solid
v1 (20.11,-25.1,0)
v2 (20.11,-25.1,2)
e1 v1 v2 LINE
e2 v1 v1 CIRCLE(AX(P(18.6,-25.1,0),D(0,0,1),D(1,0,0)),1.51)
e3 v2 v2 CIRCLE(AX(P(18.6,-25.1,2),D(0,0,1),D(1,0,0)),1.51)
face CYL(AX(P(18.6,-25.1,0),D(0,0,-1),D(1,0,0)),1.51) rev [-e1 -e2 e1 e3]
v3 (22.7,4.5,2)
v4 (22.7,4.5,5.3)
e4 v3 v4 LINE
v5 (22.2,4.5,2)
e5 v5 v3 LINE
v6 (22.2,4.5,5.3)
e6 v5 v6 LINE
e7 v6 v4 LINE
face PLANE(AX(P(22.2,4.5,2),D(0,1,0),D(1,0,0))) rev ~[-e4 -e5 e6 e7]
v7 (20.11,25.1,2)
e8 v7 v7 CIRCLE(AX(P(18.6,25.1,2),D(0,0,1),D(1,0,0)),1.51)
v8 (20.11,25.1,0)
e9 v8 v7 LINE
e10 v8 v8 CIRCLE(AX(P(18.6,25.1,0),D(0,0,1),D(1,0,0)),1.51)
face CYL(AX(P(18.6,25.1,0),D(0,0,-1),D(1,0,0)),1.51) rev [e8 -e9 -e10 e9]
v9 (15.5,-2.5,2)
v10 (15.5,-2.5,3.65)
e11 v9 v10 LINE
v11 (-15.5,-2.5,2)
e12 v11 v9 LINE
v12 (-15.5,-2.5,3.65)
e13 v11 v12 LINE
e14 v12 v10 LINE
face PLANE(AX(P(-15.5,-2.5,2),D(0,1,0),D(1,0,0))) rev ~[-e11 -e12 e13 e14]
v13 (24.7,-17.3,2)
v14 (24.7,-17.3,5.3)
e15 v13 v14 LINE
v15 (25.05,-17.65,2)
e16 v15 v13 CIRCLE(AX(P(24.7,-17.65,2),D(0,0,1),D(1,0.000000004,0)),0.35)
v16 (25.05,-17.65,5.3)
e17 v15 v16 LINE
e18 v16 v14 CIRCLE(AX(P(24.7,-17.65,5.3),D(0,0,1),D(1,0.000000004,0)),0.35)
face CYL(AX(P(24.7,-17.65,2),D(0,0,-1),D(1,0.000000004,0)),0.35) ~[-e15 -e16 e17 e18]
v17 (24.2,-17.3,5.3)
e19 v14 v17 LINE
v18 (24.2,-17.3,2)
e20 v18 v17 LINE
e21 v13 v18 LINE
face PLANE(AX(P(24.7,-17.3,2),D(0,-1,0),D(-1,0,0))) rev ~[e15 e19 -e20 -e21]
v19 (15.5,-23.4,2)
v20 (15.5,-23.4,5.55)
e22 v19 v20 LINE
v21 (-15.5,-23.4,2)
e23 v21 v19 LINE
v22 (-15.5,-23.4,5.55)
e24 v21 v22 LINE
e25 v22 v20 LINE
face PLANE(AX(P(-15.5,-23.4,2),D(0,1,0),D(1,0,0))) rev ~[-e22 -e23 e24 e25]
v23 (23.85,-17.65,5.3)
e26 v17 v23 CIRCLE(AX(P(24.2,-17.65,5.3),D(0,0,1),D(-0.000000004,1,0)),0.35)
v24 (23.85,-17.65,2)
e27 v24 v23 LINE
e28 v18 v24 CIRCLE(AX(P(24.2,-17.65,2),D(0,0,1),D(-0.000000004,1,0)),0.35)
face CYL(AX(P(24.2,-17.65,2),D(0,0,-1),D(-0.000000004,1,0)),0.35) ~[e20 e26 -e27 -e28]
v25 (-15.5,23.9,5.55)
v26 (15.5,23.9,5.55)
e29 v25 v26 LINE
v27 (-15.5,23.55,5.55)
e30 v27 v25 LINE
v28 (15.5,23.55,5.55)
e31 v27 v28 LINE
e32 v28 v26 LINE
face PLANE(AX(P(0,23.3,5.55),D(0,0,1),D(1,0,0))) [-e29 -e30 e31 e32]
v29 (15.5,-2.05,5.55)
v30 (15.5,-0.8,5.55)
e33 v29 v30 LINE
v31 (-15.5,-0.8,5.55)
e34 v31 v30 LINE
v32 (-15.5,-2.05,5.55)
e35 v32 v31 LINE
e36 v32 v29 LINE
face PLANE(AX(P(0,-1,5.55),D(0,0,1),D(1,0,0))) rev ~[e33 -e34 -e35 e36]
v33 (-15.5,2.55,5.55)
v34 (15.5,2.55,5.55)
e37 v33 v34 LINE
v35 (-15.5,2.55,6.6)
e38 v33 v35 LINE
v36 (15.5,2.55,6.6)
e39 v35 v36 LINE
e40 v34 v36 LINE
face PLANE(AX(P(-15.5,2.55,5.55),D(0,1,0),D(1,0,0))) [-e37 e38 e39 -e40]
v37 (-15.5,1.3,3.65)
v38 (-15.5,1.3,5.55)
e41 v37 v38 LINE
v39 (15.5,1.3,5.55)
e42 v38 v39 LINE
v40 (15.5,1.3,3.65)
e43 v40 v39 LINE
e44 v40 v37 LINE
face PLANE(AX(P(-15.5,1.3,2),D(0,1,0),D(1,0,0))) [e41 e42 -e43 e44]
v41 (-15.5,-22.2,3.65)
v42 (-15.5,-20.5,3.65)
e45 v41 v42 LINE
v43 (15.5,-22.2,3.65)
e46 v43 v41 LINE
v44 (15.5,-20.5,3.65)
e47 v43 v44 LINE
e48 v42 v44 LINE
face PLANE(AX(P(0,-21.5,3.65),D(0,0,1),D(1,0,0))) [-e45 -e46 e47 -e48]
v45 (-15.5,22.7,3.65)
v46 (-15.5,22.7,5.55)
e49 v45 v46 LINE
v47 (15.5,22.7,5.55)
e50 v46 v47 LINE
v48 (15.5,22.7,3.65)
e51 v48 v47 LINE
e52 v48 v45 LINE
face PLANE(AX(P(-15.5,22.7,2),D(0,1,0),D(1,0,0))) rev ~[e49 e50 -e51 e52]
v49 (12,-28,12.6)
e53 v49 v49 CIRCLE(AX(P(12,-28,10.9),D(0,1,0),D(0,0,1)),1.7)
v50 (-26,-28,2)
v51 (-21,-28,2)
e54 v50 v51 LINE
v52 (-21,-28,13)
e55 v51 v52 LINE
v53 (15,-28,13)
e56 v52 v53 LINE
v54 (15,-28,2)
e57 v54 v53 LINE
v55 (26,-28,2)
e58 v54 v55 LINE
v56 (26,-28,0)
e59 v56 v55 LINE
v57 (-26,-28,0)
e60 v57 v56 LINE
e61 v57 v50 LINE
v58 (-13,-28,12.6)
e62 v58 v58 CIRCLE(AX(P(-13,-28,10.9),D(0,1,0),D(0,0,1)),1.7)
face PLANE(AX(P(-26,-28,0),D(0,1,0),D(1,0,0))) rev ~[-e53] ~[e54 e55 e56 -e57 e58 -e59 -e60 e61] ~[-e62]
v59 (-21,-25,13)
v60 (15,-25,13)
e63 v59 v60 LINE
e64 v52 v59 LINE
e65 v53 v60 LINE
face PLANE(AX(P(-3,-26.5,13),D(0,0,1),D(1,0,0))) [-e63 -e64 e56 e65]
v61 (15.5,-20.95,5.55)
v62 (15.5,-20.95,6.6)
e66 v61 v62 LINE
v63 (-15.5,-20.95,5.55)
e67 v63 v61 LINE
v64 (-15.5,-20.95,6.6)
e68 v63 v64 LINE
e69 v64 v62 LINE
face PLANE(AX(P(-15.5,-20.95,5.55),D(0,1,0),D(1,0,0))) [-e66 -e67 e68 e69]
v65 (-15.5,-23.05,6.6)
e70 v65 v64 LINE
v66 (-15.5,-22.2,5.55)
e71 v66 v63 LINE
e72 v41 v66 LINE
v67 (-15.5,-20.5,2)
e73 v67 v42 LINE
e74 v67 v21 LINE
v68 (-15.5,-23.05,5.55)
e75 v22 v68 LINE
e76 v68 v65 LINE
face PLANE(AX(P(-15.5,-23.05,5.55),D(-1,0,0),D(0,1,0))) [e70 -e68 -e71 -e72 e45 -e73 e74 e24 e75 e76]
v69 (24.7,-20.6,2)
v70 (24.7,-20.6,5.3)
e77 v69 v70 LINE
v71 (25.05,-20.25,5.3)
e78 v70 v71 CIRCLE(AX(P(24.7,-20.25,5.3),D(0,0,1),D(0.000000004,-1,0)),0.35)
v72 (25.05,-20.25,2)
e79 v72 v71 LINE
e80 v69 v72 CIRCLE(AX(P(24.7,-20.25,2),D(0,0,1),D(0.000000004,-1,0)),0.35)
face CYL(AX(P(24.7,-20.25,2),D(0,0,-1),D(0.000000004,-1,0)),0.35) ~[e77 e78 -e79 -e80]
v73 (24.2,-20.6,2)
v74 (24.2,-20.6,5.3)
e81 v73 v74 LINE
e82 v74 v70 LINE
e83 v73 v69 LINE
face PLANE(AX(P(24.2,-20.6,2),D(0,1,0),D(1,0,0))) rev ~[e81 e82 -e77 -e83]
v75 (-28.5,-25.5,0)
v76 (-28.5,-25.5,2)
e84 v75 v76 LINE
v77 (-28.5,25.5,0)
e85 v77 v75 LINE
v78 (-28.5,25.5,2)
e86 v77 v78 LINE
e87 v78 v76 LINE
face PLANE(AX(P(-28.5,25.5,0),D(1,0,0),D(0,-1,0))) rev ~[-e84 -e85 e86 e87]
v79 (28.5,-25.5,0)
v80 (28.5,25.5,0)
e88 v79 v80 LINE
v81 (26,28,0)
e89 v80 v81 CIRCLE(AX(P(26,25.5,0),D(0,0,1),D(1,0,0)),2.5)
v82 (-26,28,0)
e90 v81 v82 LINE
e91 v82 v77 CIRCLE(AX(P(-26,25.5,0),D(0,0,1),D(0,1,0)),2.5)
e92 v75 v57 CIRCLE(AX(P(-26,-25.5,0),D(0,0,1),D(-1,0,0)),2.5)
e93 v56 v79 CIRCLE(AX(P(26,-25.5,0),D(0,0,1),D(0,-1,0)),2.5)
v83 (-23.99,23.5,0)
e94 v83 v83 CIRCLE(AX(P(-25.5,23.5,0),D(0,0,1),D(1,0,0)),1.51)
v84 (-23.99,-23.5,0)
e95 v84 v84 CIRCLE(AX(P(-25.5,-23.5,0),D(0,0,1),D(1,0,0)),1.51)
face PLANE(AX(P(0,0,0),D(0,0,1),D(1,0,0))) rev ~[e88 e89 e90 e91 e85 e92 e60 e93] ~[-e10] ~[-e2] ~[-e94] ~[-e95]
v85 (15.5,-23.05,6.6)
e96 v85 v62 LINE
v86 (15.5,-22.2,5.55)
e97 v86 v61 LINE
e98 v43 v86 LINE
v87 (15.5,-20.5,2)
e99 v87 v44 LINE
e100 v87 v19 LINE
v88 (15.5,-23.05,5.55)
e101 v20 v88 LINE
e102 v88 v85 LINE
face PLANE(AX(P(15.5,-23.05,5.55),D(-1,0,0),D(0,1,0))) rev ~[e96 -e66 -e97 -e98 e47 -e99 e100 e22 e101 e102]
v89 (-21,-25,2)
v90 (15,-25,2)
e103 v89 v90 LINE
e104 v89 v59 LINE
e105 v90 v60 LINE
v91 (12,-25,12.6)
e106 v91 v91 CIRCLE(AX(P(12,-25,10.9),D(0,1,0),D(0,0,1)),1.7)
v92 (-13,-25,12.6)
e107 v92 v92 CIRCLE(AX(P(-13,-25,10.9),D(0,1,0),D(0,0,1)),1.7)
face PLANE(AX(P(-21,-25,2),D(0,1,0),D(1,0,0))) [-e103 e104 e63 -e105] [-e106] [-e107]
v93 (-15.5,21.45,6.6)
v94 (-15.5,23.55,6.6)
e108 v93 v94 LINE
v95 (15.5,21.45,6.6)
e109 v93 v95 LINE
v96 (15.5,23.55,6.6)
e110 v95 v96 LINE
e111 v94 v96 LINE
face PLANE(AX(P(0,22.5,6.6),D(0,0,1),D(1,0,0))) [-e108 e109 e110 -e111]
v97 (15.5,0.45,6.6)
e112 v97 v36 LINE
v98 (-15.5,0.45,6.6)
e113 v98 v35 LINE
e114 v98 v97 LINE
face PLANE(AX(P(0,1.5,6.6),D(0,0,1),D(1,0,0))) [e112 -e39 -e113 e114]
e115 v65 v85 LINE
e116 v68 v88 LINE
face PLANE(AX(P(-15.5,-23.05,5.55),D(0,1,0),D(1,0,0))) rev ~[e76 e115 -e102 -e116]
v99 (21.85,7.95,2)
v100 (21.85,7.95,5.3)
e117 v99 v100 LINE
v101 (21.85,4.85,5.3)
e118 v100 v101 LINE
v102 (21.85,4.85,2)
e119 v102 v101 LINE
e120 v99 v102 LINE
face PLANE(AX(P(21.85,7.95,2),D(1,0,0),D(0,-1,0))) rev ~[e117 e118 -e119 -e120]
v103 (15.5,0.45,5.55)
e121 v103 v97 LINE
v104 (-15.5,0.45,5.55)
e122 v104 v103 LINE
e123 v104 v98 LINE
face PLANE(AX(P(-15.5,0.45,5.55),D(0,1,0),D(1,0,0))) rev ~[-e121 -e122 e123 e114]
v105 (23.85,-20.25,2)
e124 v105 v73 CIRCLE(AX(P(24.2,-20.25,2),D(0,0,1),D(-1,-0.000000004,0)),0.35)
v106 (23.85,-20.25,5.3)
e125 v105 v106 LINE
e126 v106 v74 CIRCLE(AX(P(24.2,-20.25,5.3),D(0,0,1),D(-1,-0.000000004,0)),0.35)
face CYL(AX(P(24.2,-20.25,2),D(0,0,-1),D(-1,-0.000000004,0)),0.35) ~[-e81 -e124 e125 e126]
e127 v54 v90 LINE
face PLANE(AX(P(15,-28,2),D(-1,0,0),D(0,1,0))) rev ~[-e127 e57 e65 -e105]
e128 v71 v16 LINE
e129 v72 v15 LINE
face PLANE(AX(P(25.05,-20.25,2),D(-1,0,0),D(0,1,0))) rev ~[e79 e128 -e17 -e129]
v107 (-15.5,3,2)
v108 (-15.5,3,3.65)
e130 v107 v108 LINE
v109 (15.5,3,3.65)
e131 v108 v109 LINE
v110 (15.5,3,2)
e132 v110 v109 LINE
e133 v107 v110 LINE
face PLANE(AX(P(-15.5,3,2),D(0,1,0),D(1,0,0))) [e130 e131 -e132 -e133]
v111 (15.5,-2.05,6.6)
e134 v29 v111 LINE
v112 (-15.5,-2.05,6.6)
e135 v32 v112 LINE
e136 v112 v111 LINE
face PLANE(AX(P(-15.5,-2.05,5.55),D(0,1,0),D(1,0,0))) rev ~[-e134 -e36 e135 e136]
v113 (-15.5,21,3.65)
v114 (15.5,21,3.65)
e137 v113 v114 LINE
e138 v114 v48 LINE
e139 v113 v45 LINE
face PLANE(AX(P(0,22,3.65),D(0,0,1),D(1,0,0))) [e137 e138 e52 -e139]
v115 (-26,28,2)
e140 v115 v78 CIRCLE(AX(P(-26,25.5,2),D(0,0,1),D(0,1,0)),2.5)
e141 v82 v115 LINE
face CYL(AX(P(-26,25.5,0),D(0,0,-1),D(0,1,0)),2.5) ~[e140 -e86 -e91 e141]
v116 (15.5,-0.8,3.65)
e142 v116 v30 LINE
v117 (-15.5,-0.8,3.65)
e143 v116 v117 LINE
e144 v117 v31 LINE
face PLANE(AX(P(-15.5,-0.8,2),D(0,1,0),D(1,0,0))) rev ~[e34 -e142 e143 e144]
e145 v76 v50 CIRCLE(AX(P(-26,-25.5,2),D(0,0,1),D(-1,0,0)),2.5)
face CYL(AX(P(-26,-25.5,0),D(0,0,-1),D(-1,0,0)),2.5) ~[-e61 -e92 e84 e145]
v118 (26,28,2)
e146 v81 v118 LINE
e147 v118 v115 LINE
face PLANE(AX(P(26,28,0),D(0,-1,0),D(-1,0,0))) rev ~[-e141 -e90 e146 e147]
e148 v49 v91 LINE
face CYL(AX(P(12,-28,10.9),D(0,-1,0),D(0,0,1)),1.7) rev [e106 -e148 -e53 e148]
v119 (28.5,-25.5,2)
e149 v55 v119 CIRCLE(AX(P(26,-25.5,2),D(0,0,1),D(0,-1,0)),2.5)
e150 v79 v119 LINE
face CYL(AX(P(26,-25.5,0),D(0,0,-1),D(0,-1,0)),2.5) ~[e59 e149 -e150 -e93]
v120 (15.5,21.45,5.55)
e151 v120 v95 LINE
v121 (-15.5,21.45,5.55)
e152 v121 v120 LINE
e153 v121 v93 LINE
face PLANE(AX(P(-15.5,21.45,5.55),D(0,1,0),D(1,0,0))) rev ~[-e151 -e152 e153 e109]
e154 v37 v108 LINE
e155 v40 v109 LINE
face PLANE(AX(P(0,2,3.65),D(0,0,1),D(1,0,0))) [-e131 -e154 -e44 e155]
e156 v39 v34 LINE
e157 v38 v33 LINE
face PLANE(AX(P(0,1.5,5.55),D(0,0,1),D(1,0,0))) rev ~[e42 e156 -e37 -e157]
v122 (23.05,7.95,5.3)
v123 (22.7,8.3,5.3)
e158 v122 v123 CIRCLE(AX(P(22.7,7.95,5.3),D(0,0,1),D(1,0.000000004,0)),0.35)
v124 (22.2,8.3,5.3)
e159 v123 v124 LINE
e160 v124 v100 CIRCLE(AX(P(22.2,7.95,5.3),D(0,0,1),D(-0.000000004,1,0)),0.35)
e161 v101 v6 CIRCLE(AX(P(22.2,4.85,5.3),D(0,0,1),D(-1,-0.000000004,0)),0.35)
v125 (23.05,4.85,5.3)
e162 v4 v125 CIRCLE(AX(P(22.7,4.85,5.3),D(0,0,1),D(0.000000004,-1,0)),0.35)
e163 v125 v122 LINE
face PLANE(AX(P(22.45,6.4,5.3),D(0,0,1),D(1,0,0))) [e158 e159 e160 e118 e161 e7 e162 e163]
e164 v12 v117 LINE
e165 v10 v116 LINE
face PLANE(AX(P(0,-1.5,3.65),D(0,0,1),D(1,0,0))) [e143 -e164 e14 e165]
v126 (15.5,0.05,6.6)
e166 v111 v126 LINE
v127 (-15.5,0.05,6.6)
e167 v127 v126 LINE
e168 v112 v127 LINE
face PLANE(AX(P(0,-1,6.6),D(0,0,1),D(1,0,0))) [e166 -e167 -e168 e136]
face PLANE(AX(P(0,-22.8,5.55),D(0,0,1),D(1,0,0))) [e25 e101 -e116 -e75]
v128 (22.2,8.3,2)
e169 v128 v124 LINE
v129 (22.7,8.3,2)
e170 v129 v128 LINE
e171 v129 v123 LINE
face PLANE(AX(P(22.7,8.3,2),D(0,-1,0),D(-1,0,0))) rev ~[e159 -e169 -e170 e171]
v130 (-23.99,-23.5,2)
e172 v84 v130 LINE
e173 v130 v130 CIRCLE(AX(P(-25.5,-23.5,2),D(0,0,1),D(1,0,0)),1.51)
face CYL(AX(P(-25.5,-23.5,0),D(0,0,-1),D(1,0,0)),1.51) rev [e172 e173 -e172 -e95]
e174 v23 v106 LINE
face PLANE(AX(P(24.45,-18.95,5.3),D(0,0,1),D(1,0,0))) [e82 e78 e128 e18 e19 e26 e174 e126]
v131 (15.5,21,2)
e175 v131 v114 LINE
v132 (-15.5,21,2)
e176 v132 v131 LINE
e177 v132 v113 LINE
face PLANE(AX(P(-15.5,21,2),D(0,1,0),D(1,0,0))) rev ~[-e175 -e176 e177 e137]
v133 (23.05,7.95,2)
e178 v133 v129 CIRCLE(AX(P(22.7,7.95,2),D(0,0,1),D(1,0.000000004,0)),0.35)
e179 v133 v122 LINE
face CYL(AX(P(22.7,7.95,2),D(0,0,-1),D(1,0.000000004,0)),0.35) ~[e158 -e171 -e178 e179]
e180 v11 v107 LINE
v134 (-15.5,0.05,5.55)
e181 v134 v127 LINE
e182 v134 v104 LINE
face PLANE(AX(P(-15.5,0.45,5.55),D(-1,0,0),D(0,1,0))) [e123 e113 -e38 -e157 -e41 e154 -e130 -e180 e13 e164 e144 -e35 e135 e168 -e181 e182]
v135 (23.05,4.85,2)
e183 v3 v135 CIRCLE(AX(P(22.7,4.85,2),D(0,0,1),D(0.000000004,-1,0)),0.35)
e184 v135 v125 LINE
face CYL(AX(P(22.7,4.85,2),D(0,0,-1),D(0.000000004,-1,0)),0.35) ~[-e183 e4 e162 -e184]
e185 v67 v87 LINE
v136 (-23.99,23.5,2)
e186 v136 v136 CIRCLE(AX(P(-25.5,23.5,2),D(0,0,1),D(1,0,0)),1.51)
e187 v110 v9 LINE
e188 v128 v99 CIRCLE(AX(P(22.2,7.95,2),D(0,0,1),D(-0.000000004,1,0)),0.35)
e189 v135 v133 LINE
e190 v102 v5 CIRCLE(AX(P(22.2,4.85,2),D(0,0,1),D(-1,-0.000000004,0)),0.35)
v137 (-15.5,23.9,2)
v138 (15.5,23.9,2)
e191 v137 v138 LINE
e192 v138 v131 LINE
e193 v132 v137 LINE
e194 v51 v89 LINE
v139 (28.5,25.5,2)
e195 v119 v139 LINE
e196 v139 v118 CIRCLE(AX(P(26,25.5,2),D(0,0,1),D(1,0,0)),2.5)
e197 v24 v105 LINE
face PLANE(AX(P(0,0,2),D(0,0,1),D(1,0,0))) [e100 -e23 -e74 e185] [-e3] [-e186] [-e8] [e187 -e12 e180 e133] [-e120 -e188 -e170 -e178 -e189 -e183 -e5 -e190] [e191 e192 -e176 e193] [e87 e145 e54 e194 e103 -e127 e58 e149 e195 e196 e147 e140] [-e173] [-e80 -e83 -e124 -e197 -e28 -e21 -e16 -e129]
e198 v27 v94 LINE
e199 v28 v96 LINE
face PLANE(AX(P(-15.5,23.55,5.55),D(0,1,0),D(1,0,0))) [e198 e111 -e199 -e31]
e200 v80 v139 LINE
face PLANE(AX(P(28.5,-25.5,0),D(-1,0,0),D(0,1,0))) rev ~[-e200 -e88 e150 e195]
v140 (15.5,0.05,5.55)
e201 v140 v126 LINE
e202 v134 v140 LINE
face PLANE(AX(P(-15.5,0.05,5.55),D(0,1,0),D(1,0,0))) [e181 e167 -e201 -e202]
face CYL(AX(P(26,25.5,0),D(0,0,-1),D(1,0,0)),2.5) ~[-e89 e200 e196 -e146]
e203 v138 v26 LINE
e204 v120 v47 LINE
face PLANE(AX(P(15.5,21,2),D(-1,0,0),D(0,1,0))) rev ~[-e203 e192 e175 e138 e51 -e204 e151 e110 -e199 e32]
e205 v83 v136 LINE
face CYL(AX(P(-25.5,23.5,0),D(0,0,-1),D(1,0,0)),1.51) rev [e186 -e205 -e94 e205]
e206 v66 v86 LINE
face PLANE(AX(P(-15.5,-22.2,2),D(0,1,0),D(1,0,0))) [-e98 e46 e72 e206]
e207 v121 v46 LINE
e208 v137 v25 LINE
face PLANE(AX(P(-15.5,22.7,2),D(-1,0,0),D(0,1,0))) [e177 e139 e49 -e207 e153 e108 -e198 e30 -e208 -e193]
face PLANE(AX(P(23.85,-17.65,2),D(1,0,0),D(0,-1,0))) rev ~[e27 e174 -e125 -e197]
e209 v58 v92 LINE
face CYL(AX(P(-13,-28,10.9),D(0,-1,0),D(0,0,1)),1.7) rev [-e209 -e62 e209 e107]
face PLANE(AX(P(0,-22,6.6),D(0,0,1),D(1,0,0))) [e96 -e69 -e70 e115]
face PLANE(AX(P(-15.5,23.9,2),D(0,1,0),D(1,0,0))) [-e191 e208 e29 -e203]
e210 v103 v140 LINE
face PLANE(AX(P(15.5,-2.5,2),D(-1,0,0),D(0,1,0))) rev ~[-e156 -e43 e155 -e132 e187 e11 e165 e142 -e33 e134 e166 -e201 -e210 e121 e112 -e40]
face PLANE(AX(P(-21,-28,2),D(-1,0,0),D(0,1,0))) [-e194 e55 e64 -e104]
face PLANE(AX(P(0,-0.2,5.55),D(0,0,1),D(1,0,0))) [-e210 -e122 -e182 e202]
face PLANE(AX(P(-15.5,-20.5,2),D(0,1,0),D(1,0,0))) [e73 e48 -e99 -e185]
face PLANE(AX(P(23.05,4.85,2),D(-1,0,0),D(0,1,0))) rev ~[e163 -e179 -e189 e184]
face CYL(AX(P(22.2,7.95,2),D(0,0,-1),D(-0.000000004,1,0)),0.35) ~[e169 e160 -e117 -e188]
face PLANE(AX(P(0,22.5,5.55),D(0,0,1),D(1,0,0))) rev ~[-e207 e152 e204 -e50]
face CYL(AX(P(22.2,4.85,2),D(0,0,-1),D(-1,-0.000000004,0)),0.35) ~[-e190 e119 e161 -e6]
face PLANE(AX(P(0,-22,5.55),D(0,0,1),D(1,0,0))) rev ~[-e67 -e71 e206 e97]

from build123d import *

# Parameters (mm, degrees)
VERTICAL_CARRIER_2MM_SKETCH_R  = 1.51
VERTICAL_CARRIER_2MM_DEPTH     = 2
INTEGRAL_FOOT_3MM_START        = 2
INTEGRAL_FOOT_3MM_SKETCH_W     = 36
INTEGRAL_FOOT_3MM_SKETCH_H     = 3
INTEGRAL_FOOT_3MM_DEPTH        = 11
FOOT_2X_D3P4_ISO273_START      = -28
FOOT_2X_D3P4_ISO273_SKETCH_R   = 1.7
FOOT_2X_D3P4_ISO273_DEPTH      = 3
BUCK_UNDERSIDE_RAILS_START     = 2
BUCK_UNDERSIDE_RAILS_SKETCH_W  = 31
BUCK_UNDERSIDE_RAILS_SKETCH_H  = 2
BUCK_UNDERSIDE_RAILS_DEPTH     = 1.65
BUCK_EDGE_GUIDES_START         = 2
BUCK_EDGE_GUIDES_SKETCH_W      = 31
BUCK_EDGE_GUIDES_SKETCH_H      = 1.2
BUCK_EDGE_GUIDES_DEPTH         = 3.55
BUCK_SLIDE_IN_LIPS_START       = 5.55
BUCK_SLIDE_IN_LIPS_SKETCH_W    = 31
BUCK_SLIDE_IN_LIPS_SKETCH_H    = 2.1
BUCK_SLIDE_IN_LIPS_DEPTH       = 1.05
RS485_UNDERSIDE_RAILS_START    = 2
RS485_UNDERSIDE_RAILS_SKETCH_W = 31
RS485_UNDERSIDE_RAILS_SKETCH_H = 2
RS485_UNDERSIDE_RAILS_DEPTH    = 1.65
RS485_EDGE_GUIDES_START        = 2
RS485_EDGE_GUIDES_SKETCH_W     = 31
RS485_EDGE_GUIDES_SKETCH_H     = 1.2
RS485_EDGE_GUIDES_DEPTH        = 3.55
RS485_SLIDE_IN_LIPS_START      = 5.55
RS485_SLIDE_IN_LIPS_SKETCH_W   = 31
RS485_SLIDE_IN_LIPS_SKETCH_H   = 2.1
RS485_SLIDE_IN_LIPS_DEPTH      = 1.05
PCB_INSERTION_STOPS_START      = 2
PCB_INSERTION_STOPS_DEPTH      = 3.3


with BuildPart() as part:
    # Vertical_carrier_2mm_Sketch → Vertical_carrier_2mm (new body)
    with BuildSketch(Plane.XY):
        with BuildLine():
            Line((-26, -28), (26, -28))
            ThreePointArc((26, -28), (27.767766953, -27.267766953), (28.5, -25.5))
            Line((28.5, -25.5), (28.5, 25.5))
            ThreePointArc((28.5, 25.5), (27.767766953, 27.267766953), (26, 28))
            Line((26, 28), (-26, 28))
            ThreePointArc((-26, 28), (-27.767766953, 27.267766953), (-28.5, 25.5))
            Line((-28.5, 25.5), (-28.5, -25.5))
            ThreePointArc((-28.5, -25.5), (-27.767766953, -27.267766953), (-26, -28))
        make_face()
        with Locations((-25.5, -23.5)):
            Circle(VERTICAL_CARRIER_2MM_SKETCH_R, mode=Mode.SUBTRACT)
        with Locations((18.6, -25.1)):
            Circle(VERTICAL_CARRIER_2MM_SKETCH_R, mode=Mode.SUBTRACT)
        with Locations((-25.5, 23.5)):
            Circle(VERTICAL_CARRIER_2MM_SKETCH_R, mode=Mode.SUBTRACT)
        with Locations((18.6, 25.1)):
            Circle(VERTICAL_CARRIER_2MM_SKETCH_R, mode=Mode.SUBTRACT)
    extrude(amount=VERTICAL_CARRIER_2MM_DEPTH)

    # Integral_foot_3mm_Sketch → Integral_foot_3mm (add)
    with BuildSketch(Plane.XY.offset(INTEGRAL_FOOT_3MM_START)):
        with Locations((-3, -26.5)):
            Rectangle(INTEGRAL_FOOT_3MM_SKETCH_W, INTEGRAL_FOOT_3MM_SKETCH_H)
    extrude(amount=INTEGRAL_FOOT_3MM_DEPTH)

    # Foot_2x_D3p4_ISO273_Sketch → Foot_2x_D3p4_ISO273 (cut)
    with BuildSketch(Plane(origin=(0, 0, 0), x_dir=(1, 0, 0), z_dir=(0, 1, 0)).offset(FOOT_2X_D3P4_ISO273_START)):
        with Locations(Location((-13, -10.9, 0), (0, 0, 270))):
            Circle(FOOT_2X_D3P4_ISO273_SKETCH_R)
        with Locations(Location((12, -10.9, 0), (0, 0, 270))):
            Circle(FOOT_2X_D3P4_ISO273_SKETCH_R)
    extrude(amount=FOOT_2X_D3P4_ISO273_DEPTH, mode=Mode.SUBTRACT)

    # Buck_underside_rails_Sketch → Buck_underside_rails (add)
    with BuildSketch(Plane.XY.offset(BUCK_UNDERSIDE_RAILS_START)):
        with Locations((0, 2)):
            Rectangle(BUCK_UNDERSIDE_RAILS_SKETCH_W, BUCK_UNDERSIDE_RAILS_SKETCH_H)
        with Locations((0, 22)):
            Rectangle(BUCK_UNDERSIDE_RAILS_SKETCH_W, BUCK_UNDERSIDE_RAILS_SKETCH_H)
    extrude(amount=BUCK_UNDERSIDE_RAILS_DEPTH)

    # Buck_edge_guides_Sketch → Buck_edge_guides (add)
    with BuildSketch(Plane.XY.offset(BUCK_EDGE_GUIDES_START)):
        with Locations((0, 0.7)):
            Rectangle(BUCK_EDGE_GUIDES_SKETCH_W, BUCK_EDGE_GUIDES_SKETCH_H)
        with Locations((0, 23.3)):
            Rectangle(BUCK_EDGE_GUIDES_SKETCH_W, BUCK_EDGE_GUIDES_SKETCH_H)
    extrude(amount=BUCK_EDGE_GUIDES_DEPTH)

    # Buck_slide_in_lips_Sketch → Buck_slide_in_lips (add)
    with BuildSketch(Plane.XY.offset(BUCK_SLIDE_IN_LIPS_START)):
        with Locations((0, 1.5)):
            Rectangle(BUCK_SLIDE_IN_LIPS_SKETCH_W, BUCK_SLIDE_IN_LIPS_SKETCH_H)
        with Locations((0, 22.5)):
            Rectangle(BUCK_SLIDE_IN_LIPS_SKETCH_W, BUCK_SLIDE_IN_LIPS_SKETCH_H)
    extrude(amount=BUCK_SLIDE_IN_LIPS_DEPTH)

    # RS485_underside_rails_Sketch → RS485_underside_rails (add)
    with BuildSketch(Plane.XY.offset(RS485_UNDERSIDE_RAILS_START)):
        with Locations((0, -21.5)):
            Rectangle(RS485_UNDERSIDE_RAILS_SKETCH_W, RS485_UNDERSIDE_RAILS_SKETCH_H)
        with Locations((0, -1.5)):
            Rectangle(RS485_UNDERSIDE_RAILS_SKETCH_W, RS485_UNDERSIDE_RAILS_SKETCH_H)
    extrude(amount=RS485_UNDERSIDE_RAILS_DEPTH)

    # RS485_edge_guides_Sketch → RS485_edge_guides (add)
    with BuildSketch(Plane.XY.offset(RS485_EDGE_GUIDES_START)):
        with Locations((0, -22.8)):
            Rectangle(RS485_EDGE_GUIDES_SKETCH_W, RS485_EDGE_GUIDES_SKETCH_H)
        with Locations((0, -0.2)):
            Rectangle(RS485_EDGE_GUIDES_SKETCH_W, RS485_EDGE_GUIDES_SKETCH_H)
    extrude(amount=RS485_EDGE_GUIDES_DEPTH)

    # RS485_slide_in_lips_Sketch → RS485_slide_in_lips (add)
    with BuildSketch(Plane.XY.offset(RS485_SLIDE_IN_LIPS_START)):
        with Locations((0, -22)):
            Rectangle(RS485_SLIDE_IN_LIPS_SKETCH_W, RS485_SLIDE_IN_LIPS_SKETCH_H)
        with Locations((0, -1)):
            Rectangle(RS485_SLIDE_IN_LIPS_SKETCH_W, RS485_SLIDE_IN_LIPS_SKETCH_H)
    extrude(amount=RS485_SLIDE_IN_LIPS_DEPTH)

    # PCB_insertion_stops_Sketch → PCB_insertion_stops (add)
    with BuildSketch(Plane.XY.offset(PCB_INSERTION_STOPS_START)):
        with BuildLine():
            Line((22.2, 4.5), (22.7, 4.5))
            ThreePointArc((22.7, 4.5), (22.947487373, 4.602512627), (23.05, 4.85))
            Line((23.05, 4.85), (23.05, 7.95))
            ThreePointArc((23.05, 7.95), (22.947487373, 8.197487373), (22.7, 8.3))
            Line((22.7, 8.3), (22.2, 8.3))
            ThreePointArc((22.2, 8.3), (21.952512627, 8.197487373), (21.85, 7.95))
            Line((21.85, 7.95), (21.85, 4.85))
            ThreePointArc((21.85, 4.85), (21.952512627, 4.602512627), (22.2, 4.5))
        make_face()
        with BuildLine():
            Line((24.2, -20.6), (24.7, -20.6))
            ThreePointArc((24.7, -20.6), (24.947487373, -20.497487373), (25.05, -20.25))
            Line((25.05, -20.25), (25.05, -17.65))
            ThreePointArc((25.05, -17.65), (24.947487373, -17.402512627), (24.7, -17.3))
            Line((24.7, -17.3), (24.2, -17.3))
            ThreePointArc((24.2, -17.3), (23.952512627, -17.402512627), (23.85, -17.65))
            Line((23.85, -17.65), (23.85, -20.25))
            ThreePointArc((23.85, -20.25), (23.952512627, -20.497487373), (24.2, -20.6))
        make_face()
    extrude(amount=PCB_INSERTION_STOPS_DEPTH)


solid = part.part
